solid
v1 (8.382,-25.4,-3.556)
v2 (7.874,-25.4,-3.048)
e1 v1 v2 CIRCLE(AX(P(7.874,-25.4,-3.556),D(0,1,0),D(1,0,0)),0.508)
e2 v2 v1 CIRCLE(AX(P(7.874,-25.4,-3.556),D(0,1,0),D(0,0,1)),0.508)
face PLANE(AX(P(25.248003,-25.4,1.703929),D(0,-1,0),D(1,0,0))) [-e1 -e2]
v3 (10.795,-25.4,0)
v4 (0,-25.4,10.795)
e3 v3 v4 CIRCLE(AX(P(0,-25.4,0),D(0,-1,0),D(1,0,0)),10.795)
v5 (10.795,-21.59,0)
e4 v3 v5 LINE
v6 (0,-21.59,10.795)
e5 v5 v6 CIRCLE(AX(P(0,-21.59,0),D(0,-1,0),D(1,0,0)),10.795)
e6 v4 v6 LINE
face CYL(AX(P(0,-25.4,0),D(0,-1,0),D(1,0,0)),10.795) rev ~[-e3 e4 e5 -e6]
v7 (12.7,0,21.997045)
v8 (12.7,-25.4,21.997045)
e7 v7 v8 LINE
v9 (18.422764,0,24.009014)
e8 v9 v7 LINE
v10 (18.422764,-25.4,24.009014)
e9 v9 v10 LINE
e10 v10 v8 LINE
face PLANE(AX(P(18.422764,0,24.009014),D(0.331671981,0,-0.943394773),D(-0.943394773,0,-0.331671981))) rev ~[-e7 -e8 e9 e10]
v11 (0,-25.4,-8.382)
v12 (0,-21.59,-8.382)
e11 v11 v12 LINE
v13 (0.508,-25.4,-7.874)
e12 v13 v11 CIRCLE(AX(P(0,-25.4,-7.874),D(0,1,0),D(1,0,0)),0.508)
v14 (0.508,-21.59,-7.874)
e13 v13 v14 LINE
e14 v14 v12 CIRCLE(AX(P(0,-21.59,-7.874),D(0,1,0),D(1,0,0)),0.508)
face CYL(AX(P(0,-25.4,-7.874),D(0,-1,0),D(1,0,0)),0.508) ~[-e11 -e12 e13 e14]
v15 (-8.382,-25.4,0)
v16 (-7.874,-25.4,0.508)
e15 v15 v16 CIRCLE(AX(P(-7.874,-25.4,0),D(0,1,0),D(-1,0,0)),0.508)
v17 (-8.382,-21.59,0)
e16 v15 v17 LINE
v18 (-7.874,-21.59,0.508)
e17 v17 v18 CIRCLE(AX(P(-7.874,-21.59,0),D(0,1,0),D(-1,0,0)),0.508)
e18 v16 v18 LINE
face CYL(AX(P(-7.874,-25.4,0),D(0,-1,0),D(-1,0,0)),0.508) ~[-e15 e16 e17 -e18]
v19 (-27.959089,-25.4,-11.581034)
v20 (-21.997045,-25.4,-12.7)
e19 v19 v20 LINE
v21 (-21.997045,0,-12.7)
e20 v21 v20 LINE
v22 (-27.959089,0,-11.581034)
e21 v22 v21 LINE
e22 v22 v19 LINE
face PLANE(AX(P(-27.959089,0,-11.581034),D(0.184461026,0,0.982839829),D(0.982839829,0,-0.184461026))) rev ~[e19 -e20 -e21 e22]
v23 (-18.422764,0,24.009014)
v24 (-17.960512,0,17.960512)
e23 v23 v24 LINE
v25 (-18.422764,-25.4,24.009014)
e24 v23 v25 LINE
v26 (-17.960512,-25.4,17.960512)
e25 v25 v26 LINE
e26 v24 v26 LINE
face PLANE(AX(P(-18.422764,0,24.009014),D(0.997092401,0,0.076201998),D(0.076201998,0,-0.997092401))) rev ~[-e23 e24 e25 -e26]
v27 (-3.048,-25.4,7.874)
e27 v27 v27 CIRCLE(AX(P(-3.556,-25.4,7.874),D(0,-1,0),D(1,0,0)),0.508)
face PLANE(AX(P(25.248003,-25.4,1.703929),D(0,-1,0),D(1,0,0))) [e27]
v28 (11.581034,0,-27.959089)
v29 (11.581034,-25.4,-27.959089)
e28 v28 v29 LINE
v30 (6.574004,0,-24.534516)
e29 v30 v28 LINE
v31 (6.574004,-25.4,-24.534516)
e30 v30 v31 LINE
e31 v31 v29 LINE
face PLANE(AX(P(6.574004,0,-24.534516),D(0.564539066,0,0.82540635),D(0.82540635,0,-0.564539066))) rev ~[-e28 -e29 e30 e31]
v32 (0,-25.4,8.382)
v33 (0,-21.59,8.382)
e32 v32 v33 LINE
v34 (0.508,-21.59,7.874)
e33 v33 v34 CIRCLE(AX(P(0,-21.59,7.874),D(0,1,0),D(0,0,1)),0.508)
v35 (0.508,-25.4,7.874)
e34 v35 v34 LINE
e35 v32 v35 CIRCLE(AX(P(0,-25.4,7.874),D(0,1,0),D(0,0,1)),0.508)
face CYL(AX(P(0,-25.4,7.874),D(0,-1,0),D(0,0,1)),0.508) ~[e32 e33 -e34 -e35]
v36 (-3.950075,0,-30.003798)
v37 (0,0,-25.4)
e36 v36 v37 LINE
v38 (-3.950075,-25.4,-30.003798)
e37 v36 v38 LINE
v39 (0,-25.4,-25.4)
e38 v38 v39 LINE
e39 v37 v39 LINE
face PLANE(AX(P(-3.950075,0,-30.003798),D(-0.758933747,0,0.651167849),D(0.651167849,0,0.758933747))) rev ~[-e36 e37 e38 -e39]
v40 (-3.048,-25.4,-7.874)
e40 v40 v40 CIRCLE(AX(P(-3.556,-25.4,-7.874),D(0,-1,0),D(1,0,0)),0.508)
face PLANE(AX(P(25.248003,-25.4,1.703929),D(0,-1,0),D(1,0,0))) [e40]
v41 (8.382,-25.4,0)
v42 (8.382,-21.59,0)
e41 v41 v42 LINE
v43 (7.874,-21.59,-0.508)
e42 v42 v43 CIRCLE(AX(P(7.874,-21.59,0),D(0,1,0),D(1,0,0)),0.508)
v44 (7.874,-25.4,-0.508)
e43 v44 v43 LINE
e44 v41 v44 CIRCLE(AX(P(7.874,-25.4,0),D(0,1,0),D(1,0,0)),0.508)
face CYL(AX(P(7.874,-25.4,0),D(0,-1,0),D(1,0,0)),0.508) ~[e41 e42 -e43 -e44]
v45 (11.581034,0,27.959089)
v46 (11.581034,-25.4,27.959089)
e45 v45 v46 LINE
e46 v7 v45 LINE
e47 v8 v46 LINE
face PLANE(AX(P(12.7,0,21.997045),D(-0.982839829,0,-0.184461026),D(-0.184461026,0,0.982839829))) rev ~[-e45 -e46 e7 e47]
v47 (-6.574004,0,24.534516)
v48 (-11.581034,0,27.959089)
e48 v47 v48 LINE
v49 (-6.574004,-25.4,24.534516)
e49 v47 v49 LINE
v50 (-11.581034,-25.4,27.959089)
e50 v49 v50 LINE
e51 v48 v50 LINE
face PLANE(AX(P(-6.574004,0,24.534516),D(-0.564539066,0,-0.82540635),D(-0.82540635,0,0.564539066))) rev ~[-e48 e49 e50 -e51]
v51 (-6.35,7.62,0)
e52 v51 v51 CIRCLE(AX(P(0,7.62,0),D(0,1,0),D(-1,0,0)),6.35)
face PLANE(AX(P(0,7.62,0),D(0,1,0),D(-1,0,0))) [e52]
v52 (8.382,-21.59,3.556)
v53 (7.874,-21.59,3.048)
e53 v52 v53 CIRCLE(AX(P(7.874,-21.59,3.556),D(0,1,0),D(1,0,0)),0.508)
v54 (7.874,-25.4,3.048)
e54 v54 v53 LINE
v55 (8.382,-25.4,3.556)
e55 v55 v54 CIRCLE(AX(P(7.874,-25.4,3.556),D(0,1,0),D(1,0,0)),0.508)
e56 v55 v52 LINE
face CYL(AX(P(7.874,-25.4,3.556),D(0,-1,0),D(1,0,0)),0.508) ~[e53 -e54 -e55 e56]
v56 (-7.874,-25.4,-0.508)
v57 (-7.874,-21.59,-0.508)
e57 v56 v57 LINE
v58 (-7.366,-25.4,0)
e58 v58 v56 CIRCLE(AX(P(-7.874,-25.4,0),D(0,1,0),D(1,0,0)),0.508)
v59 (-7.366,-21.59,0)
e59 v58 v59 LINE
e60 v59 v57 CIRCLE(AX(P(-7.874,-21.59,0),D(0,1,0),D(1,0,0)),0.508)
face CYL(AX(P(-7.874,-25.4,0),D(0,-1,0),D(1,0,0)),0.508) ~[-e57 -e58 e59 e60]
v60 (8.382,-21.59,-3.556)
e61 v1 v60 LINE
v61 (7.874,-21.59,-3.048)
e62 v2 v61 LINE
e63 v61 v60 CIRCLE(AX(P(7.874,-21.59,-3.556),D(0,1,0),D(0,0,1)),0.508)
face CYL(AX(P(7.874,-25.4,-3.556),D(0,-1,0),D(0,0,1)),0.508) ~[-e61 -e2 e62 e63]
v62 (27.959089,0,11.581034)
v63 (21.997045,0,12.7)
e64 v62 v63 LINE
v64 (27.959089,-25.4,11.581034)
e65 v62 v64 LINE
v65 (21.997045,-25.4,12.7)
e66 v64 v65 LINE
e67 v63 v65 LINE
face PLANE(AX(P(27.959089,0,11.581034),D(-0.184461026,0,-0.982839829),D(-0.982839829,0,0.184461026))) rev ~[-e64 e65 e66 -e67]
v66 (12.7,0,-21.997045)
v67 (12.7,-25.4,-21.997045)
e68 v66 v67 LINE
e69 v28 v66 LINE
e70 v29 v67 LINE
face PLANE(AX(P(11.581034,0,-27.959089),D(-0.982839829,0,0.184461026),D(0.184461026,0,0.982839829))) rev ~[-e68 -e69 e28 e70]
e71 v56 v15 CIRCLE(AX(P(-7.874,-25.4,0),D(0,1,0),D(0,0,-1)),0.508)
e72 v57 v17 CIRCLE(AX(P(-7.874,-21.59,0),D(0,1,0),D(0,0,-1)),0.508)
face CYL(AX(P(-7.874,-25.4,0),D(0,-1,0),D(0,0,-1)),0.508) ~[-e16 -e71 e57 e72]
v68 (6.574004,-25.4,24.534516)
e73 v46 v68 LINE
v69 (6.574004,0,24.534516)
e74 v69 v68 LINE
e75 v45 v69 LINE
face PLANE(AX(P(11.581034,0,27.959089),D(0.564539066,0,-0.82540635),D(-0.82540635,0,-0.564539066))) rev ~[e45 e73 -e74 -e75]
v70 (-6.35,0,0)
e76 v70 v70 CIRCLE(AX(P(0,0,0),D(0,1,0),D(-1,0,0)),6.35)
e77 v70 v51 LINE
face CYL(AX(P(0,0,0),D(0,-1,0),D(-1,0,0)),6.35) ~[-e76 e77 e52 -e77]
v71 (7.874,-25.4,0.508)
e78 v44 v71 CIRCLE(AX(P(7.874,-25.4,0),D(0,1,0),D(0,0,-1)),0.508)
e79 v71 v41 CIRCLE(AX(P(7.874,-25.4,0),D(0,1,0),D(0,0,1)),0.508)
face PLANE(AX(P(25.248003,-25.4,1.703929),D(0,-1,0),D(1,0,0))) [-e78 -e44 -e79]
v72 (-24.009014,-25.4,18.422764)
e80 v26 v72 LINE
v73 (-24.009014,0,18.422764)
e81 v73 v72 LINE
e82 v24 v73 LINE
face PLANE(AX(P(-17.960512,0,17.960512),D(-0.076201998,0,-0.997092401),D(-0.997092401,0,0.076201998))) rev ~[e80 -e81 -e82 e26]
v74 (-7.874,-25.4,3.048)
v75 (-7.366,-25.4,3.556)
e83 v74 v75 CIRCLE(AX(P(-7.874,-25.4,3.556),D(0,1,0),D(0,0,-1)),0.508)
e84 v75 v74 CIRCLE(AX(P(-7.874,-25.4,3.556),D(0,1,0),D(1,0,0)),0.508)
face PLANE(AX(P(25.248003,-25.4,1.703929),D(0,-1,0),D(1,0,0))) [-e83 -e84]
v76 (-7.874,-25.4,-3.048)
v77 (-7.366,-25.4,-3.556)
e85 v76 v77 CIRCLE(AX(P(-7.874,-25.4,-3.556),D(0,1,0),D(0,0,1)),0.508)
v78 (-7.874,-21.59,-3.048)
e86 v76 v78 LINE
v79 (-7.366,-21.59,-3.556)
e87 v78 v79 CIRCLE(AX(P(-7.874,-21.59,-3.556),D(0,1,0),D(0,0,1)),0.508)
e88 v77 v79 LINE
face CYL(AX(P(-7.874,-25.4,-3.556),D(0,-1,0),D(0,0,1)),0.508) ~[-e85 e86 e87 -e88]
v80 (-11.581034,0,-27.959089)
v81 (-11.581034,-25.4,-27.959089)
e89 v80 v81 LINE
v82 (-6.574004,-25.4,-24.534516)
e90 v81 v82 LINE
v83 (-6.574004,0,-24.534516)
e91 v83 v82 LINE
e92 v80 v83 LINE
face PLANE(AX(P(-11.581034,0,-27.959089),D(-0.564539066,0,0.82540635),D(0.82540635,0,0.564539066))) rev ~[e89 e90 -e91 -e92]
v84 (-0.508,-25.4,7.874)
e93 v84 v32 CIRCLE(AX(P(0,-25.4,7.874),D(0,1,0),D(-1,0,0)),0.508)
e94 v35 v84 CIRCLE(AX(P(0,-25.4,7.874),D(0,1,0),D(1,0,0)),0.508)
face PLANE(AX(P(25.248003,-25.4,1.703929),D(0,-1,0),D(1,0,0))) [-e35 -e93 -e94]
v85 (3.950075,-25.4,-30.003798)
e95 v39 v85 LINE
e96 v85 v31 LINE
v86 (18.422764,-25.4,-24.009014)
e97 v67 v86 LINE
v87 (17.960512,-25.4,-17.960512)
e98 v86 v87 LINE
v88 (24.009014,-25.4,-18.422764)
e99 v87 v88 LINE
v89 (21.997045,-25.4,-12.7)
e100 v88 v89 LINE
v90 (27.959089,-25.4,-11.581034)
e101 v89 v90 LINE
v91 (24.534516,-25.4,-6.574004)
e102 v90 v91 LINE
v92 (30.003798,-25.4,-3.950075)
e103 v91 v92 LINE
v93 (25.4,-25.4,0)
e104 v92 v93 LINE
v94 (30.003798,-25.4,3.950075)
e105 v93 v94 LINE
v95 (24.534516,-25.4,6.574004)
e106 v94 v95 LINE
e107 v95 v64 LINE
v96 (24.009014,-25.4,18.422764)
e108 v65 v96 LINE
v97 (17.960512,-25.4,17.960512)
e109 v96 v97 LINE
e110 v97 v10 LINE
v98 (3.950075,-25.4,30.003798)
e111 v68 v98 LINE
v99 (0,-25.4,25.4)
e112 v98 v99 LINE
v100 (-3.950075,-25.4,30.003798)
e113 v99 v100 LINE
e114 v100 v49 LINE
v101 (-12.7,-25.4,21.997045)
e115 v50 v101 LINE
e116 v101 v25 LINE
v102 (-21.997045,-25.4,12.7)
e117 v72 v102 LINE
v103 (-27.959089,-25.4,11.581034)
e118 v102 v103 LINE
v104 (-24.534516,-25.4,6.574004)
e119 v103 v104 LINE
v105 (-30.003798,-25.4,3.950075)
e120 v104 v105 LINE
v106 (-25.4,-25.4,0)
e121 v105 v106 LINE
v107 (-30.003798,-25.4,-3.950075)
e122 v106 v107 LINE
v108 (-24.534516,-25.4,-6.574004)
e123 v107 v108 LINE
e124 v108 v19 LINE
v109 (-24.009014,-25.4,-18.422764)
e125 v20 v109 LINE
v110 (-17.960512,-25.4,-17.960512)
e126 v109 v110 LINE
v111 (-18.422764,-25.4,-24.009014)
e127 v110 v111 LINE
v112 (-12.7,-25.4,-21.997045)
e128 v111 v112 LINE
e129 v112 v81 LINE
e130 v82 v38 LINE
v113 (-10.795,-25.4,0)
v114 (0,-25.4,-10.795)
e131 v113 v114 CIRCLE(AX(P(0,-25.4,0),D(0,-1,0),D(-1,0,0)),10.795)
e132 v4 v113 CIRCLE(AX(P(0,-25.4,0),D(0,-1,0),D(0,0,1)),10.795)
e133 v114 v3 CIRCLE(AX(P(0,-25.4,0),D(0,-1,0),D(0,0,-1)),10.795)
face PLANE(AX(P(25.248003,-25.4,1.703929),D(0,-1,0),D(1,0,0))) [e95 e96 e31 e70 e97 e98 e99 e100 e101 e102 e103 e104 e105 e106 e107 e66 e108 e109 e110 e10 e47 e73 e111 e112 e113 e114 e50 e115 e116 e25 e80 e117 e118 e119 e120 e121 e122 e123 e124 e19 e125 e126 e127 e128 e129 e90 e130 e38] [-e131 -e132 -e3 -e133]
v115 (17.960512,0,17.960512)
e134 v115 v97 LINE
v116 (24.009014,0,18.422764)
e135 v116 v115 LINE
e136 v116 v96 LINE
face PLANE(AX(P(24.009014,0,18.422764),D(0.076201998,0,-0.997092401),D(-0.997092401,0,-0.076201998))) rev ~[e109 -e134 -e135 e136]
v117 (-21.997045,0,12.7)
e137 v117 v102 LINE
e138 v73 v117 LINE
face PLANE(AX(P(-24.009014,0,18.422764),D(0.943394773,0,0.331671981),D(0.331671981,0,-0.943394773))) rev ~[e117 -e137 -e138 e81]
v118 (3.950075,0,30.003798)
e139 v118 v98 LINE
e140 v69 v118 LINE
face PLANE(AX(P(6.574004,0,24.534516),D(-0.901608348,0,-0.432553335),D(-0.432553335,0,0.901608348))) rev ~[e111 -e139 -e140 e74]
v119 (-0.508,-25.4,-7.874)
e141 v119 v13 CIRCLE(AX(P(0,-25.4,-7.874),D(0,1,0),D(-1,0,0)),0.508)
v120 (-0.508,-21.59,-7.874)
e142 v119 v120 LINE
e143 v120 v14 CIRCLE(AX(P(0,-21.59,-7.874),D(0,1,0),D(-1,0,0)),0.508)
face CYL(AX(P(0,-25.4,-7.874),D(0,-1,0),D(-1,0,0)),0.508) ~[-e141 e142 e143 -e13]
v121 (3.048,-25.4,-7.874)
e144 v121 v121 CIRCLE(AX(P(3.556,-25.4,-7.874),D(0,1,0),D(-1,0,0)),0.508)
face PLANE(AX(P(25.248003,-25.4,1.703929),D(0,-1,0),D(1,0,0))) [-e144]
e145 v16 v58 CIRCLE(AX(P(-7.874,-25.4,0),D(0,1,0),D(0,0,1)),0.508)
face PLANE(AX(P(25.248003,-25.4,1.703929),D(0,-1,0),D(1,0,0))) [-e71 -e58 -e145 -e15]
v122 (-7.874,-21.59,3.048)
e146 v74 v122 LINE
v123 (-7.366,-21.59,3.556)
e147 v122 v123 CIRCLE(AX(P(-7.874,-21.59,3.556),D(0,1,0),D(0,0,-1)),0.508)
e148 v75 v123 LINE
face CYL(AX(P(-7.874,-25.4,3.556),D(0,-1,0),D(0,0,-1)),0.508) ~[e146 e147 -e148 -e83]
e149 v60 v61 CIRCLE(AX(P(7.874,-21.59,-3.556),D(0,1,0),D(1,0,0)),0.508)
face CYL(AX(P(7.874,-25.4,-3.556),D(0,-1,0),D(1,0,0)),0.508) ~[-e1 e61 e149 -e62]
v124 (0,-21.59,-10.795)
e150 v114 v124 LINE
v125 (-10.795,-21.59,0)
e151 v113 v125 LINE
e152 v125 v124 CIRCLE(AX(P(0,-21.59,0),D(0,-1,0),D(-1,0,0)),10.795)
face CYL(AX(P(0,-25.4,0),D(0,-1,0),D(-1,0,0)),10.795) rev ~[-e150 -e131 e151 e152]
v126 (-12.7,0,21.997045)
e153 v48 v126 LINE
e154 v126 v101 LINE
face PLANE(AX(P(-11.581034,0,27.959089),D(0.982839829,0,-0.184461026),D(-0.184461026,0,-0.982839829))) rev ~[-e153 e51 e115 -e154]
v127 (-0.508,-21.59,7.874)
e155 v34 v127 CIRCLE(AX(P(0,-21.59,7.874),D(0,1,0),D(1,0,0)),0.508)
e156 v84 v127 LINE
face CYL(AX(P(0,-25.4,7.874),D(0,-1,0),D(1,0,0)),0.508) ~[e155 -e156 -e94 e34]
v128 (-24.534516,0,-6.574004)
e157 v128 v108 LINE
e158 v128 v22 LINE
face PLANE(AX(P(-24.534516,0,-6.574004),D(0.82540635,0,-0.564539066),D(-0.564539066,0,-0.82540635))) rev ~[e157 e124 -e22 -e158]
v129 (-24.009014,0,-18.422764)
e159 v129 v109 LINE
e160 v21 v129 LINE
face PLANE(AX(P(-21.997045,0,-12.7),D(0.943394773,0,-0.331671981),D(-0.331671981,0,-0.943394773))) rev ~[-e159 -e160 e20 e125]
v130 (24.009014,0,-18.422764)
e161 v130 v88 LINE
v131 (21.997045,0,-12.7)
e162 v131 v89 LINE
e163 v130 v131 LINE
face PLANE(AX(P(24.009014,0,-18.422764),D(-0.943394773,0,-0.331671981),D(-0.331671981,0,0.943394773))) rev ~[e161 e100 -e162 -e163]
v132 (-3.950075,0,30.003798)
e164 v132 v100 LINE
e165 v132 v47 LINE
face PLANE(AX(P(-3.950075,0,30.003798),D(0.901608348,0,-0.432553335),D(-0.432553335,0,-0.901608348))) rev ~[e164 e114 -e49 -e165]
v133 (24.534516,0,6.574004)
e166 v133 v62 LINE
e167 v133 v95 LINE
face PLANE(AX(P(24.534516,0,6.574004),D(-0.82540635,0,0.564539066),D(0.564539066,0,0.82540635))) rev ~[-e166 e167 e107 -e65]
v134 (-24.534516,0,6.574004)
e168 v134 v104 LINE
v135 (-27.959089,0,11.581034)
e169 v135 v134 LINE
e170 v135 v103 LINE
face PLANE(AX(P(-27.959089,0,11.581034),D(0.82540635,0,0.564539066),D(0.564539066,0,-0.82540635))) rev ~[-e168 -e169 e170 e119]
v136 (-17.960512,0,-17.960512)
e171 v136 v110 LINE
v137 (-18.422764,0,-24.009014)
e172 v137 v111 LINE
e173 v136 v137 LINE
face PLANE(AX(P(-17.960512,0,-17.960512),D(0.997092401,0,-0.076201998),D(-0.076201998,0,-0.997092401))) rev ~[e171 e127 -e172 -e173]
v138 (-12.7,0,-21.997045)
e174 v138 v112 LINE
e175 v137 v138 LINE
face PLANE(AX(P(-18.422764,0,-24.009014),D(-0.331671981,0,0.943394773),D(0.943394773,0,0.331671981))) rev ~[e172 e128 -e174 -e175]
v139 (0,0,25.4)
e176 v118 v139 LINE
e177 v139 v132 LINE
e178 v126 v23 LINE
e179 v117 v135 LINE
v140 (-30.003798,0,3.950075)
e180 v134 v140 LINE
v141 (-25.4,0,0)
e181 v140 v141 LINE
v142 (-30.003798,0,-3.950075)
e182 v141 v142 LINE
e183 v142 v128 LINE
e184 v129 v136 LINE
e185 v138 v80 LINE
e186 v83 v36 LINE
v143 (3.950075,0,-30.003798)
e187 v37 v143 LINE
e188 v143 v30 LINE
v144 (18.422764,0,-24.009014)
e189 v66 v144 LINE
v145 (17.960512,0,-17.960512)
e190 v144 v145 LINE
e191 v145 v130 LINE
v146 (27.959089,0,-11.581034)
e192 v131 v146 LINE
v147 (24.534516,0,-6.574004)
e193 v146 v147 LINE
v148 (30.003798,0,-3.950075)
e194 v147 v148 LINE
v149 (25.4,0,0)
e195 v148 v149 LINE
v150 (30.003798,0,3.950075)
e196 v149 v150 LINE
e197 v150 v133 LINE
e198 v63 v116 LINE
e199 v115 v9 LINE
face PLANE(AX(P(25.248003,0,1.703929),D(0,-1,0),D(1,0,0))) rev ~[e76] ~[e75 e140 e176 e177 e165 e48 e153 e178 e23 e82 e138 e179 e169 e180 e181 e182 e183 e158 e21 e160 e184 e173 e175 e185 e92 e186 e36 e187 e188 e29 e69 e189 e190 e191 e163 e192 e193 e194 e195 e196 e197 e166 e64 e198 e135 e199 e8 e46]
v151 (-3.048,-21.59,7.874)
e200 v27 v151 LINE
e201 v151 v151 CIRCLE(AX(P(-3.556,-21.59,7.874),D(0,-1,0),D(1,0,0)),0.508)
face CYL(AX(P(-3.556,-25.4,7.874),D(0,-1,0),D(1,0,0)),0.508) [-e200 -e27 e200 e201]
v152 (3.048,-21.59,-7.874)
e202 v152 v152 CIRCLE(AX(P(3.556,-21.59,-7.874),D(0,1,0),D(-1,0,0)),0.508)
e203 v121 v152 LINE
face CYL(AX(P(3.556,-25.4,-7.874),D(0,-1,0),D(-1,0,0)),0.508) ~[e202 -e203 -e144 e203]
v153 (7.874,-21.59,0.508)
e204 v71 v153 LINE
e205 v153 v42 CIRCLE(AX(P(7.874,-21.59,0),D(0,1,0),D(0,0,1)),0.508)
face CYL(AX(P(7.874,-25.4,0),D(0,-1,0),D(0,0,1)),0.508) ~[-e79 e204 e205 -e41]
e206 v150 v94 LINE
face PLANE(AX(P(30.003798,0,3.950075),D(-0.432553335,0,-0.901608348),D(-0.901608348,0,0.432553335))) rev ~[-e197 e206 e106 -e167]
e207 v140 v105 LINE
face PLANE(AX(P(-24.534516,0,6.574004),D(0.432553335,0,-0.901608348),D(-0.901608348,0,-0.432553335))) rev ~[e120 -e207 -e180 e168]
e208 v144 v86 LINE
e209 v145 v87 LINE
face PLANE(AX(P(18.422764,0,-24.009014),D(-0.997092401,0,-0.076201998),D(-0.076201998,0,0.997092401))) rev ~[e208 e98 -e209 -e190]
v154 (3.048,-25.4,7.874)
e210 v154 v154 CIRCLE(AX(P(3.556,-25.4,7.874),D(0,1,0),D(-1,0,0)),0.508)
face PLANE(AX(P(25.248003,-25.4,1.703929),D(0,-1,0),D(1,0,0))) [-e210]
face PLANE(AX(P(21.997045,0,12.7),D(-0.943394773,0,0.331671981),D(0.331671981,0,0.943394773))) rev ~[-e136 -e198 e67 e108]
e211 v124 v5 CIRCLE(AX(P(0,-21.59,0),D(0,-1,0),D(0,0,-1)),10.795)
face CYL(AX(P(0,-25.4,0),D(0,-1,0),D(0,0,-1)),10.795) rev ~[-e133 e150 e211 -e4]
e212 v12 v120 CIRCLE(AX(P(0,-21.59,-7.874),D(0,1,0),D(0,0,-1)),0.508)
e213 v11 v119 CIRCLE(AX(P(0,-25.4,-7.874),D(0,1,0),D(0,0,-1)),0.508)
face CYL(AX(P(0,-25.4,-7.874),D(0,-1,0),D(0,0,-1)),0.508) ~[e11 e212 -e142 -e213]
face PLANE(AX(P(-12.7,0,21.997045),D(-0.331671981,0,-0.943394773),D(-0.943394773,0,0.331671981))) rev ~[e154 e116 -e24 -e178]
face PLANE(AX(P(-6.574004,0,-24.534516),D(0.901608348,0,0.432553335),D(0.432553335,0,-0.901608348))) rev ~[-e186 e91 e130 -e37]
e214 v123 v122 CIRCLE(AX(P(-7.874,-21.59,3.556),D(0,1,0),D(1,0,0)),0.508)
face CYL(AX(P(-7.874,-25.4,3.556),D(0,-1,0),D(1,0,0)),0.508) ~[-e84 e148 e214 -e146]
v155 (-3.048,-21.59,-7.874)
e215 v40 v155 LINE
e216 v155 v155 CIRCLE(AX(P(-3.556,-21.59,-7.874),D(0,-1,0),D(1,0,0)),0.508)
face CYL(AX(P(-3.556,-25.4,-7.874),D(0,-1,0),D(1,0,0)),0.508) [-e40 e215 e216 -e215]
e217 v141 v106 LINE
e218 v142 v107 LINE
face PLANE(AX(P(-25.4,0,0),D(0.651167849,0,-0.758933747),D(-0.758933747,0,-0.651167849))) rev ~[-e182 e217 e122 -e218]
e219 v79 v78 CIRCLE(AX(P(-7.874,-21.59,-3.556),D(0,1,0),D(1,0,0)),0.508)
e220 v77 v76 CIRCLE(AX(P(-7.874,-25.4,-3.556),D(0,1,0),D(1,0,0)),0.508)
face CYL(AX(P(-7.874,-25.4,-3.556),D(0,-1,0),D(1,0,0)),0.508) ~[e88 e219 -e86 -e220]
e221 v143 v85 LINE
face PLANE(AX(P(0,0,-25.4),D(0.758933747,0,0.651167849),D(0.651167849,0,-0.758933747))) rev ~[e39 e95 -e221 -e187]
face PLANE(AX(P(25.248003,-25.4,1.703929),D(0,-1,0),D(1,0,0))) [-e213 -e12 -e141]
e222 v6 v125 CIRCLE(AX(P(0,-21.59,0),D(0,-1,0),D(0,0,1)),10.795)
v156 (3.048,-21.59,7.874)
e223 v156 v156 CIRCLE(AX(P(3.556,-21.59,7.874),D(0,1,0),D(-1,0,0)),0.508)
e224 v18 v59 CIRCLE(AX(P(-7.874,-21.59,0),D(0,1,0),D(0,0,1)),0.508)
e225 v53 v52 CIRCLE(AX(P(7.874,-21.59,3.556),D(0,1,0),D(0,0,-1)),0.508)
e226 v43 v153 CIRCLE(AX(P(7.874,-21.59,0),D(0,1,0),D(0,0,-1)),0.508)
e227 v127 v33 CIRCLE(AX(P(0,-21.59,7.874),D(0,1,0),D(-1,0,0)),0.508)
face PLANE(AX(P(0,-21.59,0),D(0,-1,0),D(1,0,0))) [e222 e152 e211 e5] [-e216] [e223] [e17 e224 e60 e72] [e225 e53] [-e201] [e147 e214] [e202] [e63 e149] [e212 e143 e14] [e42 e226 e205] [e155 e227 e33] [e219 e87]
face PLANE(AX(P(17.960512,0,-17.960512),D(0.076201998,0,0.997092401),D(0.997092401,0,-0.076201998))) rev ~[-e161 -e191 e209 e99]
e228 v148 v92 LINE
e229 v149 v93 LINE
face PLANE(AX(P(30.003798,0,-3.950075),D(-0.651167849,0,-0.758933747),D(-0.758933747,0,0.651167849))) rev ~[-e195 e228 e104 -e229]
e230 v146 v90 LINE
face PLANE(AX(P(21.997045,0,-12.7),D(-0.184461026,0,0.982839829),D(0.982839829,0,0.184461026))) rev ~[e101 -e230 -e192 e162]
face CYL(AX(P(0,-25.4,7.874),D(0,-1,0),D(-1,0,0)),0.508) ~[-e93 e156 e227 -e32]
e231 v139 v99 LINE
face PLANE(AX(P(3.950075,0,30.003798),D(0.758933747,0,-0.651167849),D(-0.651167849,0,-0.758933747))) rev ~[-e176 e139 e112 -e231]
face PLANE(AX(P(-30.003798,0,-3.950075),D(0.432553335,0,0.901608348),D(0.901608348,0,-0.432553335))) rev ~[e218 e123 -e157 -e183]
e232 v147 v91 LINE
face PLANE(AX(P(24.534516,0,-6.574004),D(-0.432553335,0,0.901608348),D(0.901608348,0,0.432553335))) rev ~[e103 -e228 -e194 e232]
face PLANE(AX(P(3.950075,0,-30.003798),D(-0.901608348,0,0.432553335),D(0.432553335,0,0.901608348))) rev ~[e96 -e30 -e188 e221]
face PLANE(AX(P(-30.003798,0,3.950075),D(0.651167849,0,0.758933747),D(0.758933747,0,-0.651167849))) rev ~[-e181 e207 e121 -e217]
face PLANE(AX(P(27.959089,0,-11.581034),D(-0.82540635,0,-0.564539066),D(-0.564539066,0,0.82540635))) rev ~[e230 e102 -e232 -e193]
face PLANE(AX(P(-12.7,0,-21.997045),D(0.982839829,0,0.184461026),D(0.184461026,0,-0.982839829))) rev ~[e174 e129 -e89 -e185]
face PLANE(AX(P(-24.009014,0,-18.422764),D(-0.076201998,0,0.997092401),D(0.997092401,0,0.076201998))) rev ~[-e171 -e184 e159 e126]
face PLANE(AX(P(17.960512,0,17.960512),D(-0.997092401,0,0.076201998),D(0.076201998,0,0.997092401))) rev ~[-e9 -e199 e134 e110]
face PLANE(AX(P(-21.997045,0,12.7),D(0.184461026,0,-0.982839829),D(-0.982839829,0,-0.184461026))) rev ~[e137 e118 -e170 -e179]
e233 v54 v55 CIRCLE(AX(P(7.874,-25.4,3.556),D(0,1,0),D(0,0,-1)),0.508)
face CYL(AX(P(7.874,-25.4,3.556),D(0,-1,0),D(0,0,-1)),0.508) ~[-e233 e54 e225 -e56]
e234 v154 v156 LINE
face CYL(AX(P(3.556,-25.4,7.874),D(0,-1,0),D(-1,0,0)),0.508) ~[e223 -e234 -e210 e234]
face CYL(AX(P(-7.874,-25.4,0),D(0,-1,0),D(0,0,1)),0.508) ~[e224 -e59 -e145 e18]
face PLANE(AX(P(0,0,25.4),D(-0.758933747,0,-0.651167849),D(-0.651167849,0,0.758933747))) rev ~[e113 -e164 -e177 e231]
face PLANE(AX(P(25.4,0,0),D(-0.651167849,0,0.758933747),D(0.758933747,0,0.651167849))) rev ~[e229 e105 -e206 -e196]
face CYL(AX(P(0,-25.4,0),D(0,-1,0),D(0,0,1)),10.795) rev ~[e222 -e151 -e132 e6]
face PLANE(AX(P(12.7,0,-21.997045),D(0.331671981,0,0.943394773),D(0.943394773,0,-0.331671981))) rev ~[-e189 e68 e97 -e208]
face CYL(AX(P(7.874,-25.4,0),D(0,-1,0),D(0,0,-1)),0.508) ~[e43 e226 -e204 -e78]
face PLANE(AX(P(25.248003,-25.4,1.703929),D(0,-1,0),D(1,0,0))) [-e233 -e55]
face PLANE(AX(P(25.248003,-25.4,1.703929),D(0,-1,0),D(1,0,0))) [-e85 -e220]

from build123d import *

# Parameters (mm, degrees)
F1_DEPTH = 25.4
F2_R     = 0.508
F3_DEPTH = 3.81
F4_R     = 6.35
F5_DEPTH = 7.62


with BuildPart() as f1:
    # F0 (on Front) → F1 (new body)
    with BuildSketch(Plane.XZ):
        with BuildLine():
            Line((24.9672579939, 3.2870018728), (25.4, 0))
            ThreePointArc((25.4, 0), (25.3456166503, 1.6612394824), (25.1826994789, 3.3153652824))
            Line((25.1826994789, 3.3153652824), (24.9672579939, 3.2870018728))
        make_face()
        with BuildLine():
            Line((30.0037978897, -3.9500749293), (25.4, 0))
            ThreePointArc((25.4, 0), (25.3456166503, -1.6612394824), (25.1826994789, -3.3153652824))
            Line((25.1826994789, -3.3153652824), (30.0037978897, -3.9500749293))
        make_face()
        Polygon((24.9672579939, -3.2870018728), (25.4, 0), (0, 0), (24.5345159877, -6.5740037456), align=None)
        with BuildLine():
            ThreePointArc((25.1826994789, -3.3153652824), (25.3456166503, -1.6612394824), (25.4, 0))
            Line((25.4, 0), (24.9672579939, -3.2870018728))
            Line((24.9672579939, -3.2870018728), (25.1826994789, -3.3153652824))
        make_face()
        Polygon((0, 0), (25.4, 0), (24.9672579939, 3.2870018728), (24.5345159877, 6.5740037456), align=None)
        with BuildLine():
            ThreePointArc((25.1826994789, 3.3153652824), (25.3456166503, 1.6612394824), (25.4, 0))
            Line((25.4, 0), (30.0037978897, 3.9500749293))
            Line((30.0037978897, 3.9500749293), (25.1826994789, 3.3153652824))
        make_face()
        with BuildLine():
            Line((24.9672579939, 3.2870018728), (25.1826994789, 3.3153652824))
            ThreePointArc((25.1826994789, 3.3153652824), (24.9119461222, 4.9552941792), (24.5345159877, 6.5740037456))
            Line((24.5345159877, 6.5740037456), (24.9672579939, 3.2870018728))
        make_face()
        with BuildLine():
            ThreePointArc((24.5345159877, 6.5740037456), (24.9119461222, 4.9552941792), (25.1826994789, 3.3153652824))
            Line((25.1826994789, 3.3153652824), (30.0037978897, 3.9500749293))
            Line((30.0037978897, 3.9500749293), (24.5345159877, 6.5740037456))
        make_face()
        with BuildLine():
            Line((30.0037978897, -3.9500749293), (25.1826994789, -3.3153652824))
            ThreePointArc((25.1826994789, -3.3153652824), (24.9119461222, -4.9552941792), (24.5345159877, -6.5740037456))
            Line((24.5345159877, -6.5740037456), (30.0037978897, -3.9500749293))
        make_face()
        with BuildLine():
            ThreePointArc((24.5345159877, -6.5740037456), (24.9119461222, -4.9552941792), (25.1826994789, -3.3153652824))
            Line((25.1826994789, -3.3153652824), (24.9672579939, -3.2870018728))
            Line((24.9672579939, -3.2870018728), (24.5345159877, -6.5740037456))
        make_face()
        Polygon((-6.5740037456, 24.5345159877), (0, 0), (0, 25.4), (-3.2870018728, 24.9672579939), align=None)
        Polygon((-24.5345159877, -6.5740037456), (0, 0), (-25.4, 0), (-24.9672579939, -3.2870018728), align=None)
        Polygon((6.5740037456, -24.5345159877), (0, 0), (0, -25.4), (3.2870018728, -24.9672579939), align=None)
        Polygon((21.9970452561, 12.7), (0, 0), (24.5345159877, 6.5740037456), (23.2657806219, 9.6370018728), align=None)
        Polygon((17.9605122421, 17.9605122421), (0, 0), (21.9970452561, 12.7), (19.9787787491, 15.3302561211), align=None)
        Polygon((12.7, 21.9970452561), (0, 0), (17.9605122421, 17.9605122421), (15.3302561211, 19.9787787491), align=None)
        Polygon((6.5740037456, 24.5345159877), (0, 0), (12.7, 21.9970452561), (9.6370018728, 23.2657806219), align=None)
        Polygon((0, 25.4), (0, 0), (6.5740037456, 24.5345159877), (3.2870018728, 24.9672579939), align=None)
        Polygon((0, -25.4), (0, 0), (-6.5740037456, -24.5345159877), (-3.2870018728, -24.9672579939), align=None)
        Polygon((24.5345159877, -6.5740037456), (0, 0), (21.9970452561, -12.7), (23.2657806219, -9.6370018728), align=None)
        Polygon((21.9970452561, -12.7), (0, 0), (17.9605122421, -17.9605122421), (19.9787787491, -15.3302561211), align=None)
        Polygon((17.9605122421, -17.9605122421), (0, 0), (12.7, -21.9970452561), (15.3302561211, -19.9787787491), align=None)
        Polygon((12.7, -21.9970452561), (0, 0), (6.5740037456, -24.5345159877), (9.6370018728, -23.2657806219), align=None)
        Polygon((-6.5740037456, -24.5345159877), (0, 0), (-12.7, -21.9970452561), (-9.6370018728, -23.2657806219), align=None)
        Polygon((-12.7, -21.9970452561), (0, 0), (-17.9605122421, -17.9605122421), (-15.3302561211, -19.9787787491), align=None)
        Polygon((-17.9605122421, -17.9605122421), (0, 0), (-21.9970452561, -12.7), (-19.9787787491, -15.3302561211), align=None)
        Polygon((-21.9970452561, -12.7), (0, 0), (-24.5345159877, -6.5740037456), (-23.2657806219, -9.6370018728), align=None)
        Polygon((-25.4, 0), (0, 0), (-24.5345159877, 6.5740037456), (-24.9672579939, 3.2870018728), align=None)
        Polygon((-24.5345159877, 6.5740037456), (0, 0), (-21.9970452561, 12.7), (-23.2657806219, 9.6370018728), align=None)
        Polygon((-21.9970452561, 12.7), (0, 0), (-17.9605122421, 17.9605122421), (-19.9787787491, 15.3302561211), align=None)
        Polygon((-17.9605122421, 17.9605122421), (0, 0), (-12.7, 21.9970452561), (-15.3302561211, 19.9787787491), align=None)
        Polygon((-12.7, 21.9970452561), (0, 0), (-6.5740037456, 24.5345159877), (-9.6370018728, 23.2657806219), align=None)
        with BuildLine():
            Line((23.2657806219, 9.6370018728), (24.5345159877, 6.5740037456))
            ThreePointArc((24.5345159877, 6.5740037456), (24.0520252892, 8.1645624187), (23.4665401258, 9.7201591821))
            Line((23.4665401258, 9.7201591821), (23.2657806219, 9.6370018728))
        make_face()
        with BuildLine():
            ThreePointArc((23.4665401258, 9.7201591821), (24.0520252892, 8.1645624187), (24.5345159877, 6.5740037456))
            Line((24.5345159877, 6.5740037456), (27.9590886471, 11.5810337092))
            Line((27.9590886471, 11.5810337092), (23.4665401258, 9.7201591821))
        make_face()
        with BuildLine():
            Line((27.9590886471, -11.5810337092), (24.5345159877, -6.5740037456))
            ThreePointArc((24.5345159877, -6.5740037456), (24.0520252892, -8.1645624187), (23.4665401258, -9.7201591821))
            Line((23.4665401258, -9.7201591821), (27.9590886471, -11.5810337092))
        make_face()
        with BuildLine():
            ThreePointArc((23.4665401258, -9.7201591821), (24.0520252892, -8.1645624187), (24.5345159877, -6.5740037456))
            Line((24.5345159877, -6.5740037456), (23.2657806219, -9.6370018728))
            Line((23.2657806219, -9.6370018728), (23.4665401258, -9.7201591821))
        make_face()
        with BuildLine():
            Line((3.9500749293, 30.0037978897), (0, 25.4))
            ThreePointArc((0, 25.4), (1.6612394824, 25.3456166503), (3.3153652824, 25.1826994789))
            Line((3.3153652824, 25.1826994789), (3.9500749293, 30.0037978897))
        make_face()
        with BuildLine():
            Line((-3.2870018728, 24.9672579939), (0, 25.4))
            ThreePointArc((0, 25.4), (-1.6612394824, 25.3456166503), (-3.3153652824, 25.1826994789))
            Line((-3.3153652824, 25.1826994789), (-3.2870018728, 24.9672579939))
        make_face()
        with BuildLine():
            ThreePointArc((3.3153652824, 25.1826994789), (1.6612394824, 25.3456166503), (0, 25.4))
            Line((0, 25.4), (3.2870018728, 24.9672579939))
            Line((3.2870018728, 24.9672579939), (3.3153652824, 25.1826994789))
        make_face()
        with BuildLine():
            ThreePointArc((-3.3153652824, 25.1826994789), (-1.6612394824, 25.3456166503), (0, 25.4))
            Line((0, 25.4), (-3.9500749293, 30.0037978897))
            Line((-3.9500749293, 30.0037978897), (-3.3153652824, 25.1826994789))
        make_face()
        with BuildLine():
            Line((-30.0037978897, 3.9500749293), (-25.4, 0))
            ThreePointArc((-25.4, 0), (-25.3456166503, 1.6612394824), (-25.1826994789, 3.3153652824))
            Line((-25.1826994789, 3.3153652824), (-30.0037978897, 3.9500749293))
        make_face()
        with BuildLine():
            Line((-24.9672579939, -3.2870018728), (-25.4, 0))
            ThreePointArc((-25.4, 0), (-25.3456166503, -1.6612394824), (-25.1826994789, -3.3153652824))
            Line((-25.1826994789, -3.3153652824), (-24.9672579939, -3.2870018728))
        make_face()
        with BuildLine():
            ThreePointArc((-25.1826994789, 3.3153652824), (-25.3456166503, 1.6612394824), (-25.4, 0))
            Line((-25.4, 0), (-24.9672579939, 3.2870018728))
            Line((-24.9672579939, 3.2870018728), (-25.1826994789, 3.3153652824))
        make_face()
        with BuildLine():
            ThreePointArc((-25.1826994789, -3.3153652824), (-25.3456166503, -1.6612394824), (-25.4, 0))
            Line((-25.4, 0), (-30.0037978897, -3.9500749293))
            Line((-30.0037978897, -3.9500749293), (-25.1826994789, -3.3153652824))
        make_face()
        with BuildLine():
            Line((-3.9500749293, -30.0037978896), (0, -25.4))
            ThreePointArc((0, -25.4), (-1.6612394824, -25.3456166503), (-3.3153652824, -25.1826994789))
            Line((-3.3153652824, -25.1826994789), (-3.9500749293, -30.0037978896))
        make_face()
        with BuildLine():
            Line((3.2870018728, -24.9672579939), (0, -25.4))
            ThreePointArc((0, -25.4), (1.6612394824, -25.3456166503), (3.3153652824, -25.1826994789))
            Line((3.3153652824, -25.1826994789), (3.2870018728, -24.9672579939))
        make_face()
        with BuildLine():
            ThreePointArc((-3.3153652824, -25.1826994789), (-1.6612394824, -25.3456166503), (0, -25.4))
            Line((0, -25.4), (-3.2870018728, -24.9672579939))
            Line((-3.2870018728, -24.9672579939), (-3.3153652824, -25.1826994789))
        make_face()
        with BuildLine():
            ThreePointArc((3.3153652824, -25.1826994789), (1.6612394824, -25.3456166503), (0, -25.4))
            Line((0, -25.4), (3.9500749293, -30.0037978897))
            Line((3.9500749293, -30.0037978897), (3.3153652824, -25.1826994789))
        make_face()
        with BuildLine():
            Line((27.9590886471, 11.5810337092), (21.9970452561, 12.7))
            ThreePointArc((21.9970452561, 12.7), (22.7805676349, 11.2341327316), (23.4665401258, 9.7201591821))
            Line((23.4665401258, 9.7201591821), (27.9590886471, 11.5810337092))
        make_face()
        with BuildLine():
            Line((19.9787787491, 15.3302561211), (21.9970452561, 12.7))
            ThreePointArc((21.9970452561, 12.7), (21.1193281525, 14.1114839187), (20.1511748434, 15.4625402968))
            Line((20.1511748434, 15.4625402968), (19.9787787491, 15.3302561211))
        make_face()
        with BuildLine():
            ThreePointArc((23.4665401258, 9.7201591821), (22.7805676349, 11.2341327316), (21.9970452561, 12.7))
            Line((21.9970452561, 12.7), (23.2657806219, 9.6370018728))
            Line((23.2657806219, 9.6370018728), (23.4665401258, 9.7201591821))
        make_face()
        with BuildLine():
            ThreePointArc((20.1511748434, 15.4625402968), (21.1193281525, 14.1114839187), (21.9970452561, 12.7))
            Line((21.9970452561, 12.7), (24.0090137178, 18.4227641804))
            Line((24.0090137178, 18.4227641804), (20.1511748434, 15.4625402968))
        make_face()
        with BuildLine():
            Line((24.0090137178, 18.4227641804), (17.9605122421, 17.9605122421))
            ThreePointArc((17.9605122421, 17.9605122421), (19.09673111, 16.7473837035), (20.1511748434, 15.4625402968))
            Line((20.1511748434, 15.4625402968), (24.0090137178, 18.4227641804))
        make_face()
        with BuildLine():
            Line((15.3302561211, 19.9787787491), (17.9605122421, 17.9605122421))
            ThreePointArc((17.9605122421, 17.9605122421), (16.7473837035, 19.09673111), (15.4625402968, 20.1511748434))
            Line((15.4625402968, 20.1511748434), (15.3302561211, 19.9787787491))
        make_face()
        with BuildLine():
            ThreePointArc((20.1511748434, 15.4625402968), (19.09673111, 16.7473837035), (17.9605122421, 17.9605122421))
            Line((17.9605122421, 17.9605122421), (19.9787787491, 15.3302561211))
            Line((19.9787787491, 15.3302561211), (20.1511748434, 15.4625402968))
        make_face()
        with BuildLine():
            ThreePointArc((15.4625402968, 20.1511748434), (16.7473837035, 19.09673111), (17.9605122421, 17.9605122421))
            Line((17.9605122421, 17.9605122421), (18.4227641804, 24.0090137178))
            Line((18.4227641804, 24.0090137178), (15.4625402968, 20.1511748434))
        make_face()
        with BuildLine():
            Line((18.4227641804, 24.0090137178), (12.7, 21.9970452561))
            ThreePointArc((12.7, 21.9970452561), (14.1114839187, 21.1193281525), (15.4625402968, 20.1511748434))
            Line((15.4625402968, 20.1511748434), (18.4227641804, 24.0090137178))
        make_face()
        with BuildLine():
            Line((9.6370018728, 23.2657806219), (12.7, 21.9970452561))
            ThreePointArc((12.7, 21.9970452561), (11.2341327316, 22.7805676349), (9.7201591821, 23.4665401258))
            Line((9.7201591821, 23.4665401258), (9.6370018728, 23.2657806219))
        make_face()
        with BuildLine():
            ThreePointArc((15.4625402968, 20.1511748434), (14.1114839187, 21.1193281525), (12.7, 21.9970452561))
            Line((12.7, 21.9970452561), (15.3302561211, 19.9787787491))
            Line((15.3302561211, 19.9787787491), (15.4625402968, 20.1511748434))
        make_face()
        with BuildLine():
            ThreePointArc((9.7201591821, 23.4665401258), (11.2341327316, 22.7805676349), (12.7, 21.9970452561))
            Line((12.7, 21.9970452561), (11.5810337092, 27.9590886471))
            Line((11.5810337092, 27.9590886471), (9.7201591821, 23.4665401258))
        make_face()
        with BuildLine():
            Line((11.5810337092, 27.9590886471), (6.5740037456, 24.5345159877))
            ThreePointArc((6.5740037456, 24.5345159877), (8.1645624187, 24.0520252892), (9.7201591821, 23.4665401258))
            Line((9.7201591821, 23.4665401258), (11.5810337092, 27.9590886471))
        make_face()
        with BuildLine():
            Line((3.2870018728, 24.9672579939), (6.5740037456, 24.5345159877))
            ThreePointArc((6.5740037456, 24.5345159877), (4.9552941792, 24.9119461222), (3.3153652824, 25.1826994789))
            Line((3.3153652824, 25.1826994789), (3.2870018728, 24.9672579939))
        make_face()
        with BuildLine():
            ThreePointArc((9.7201591821, 23.4665401258), (8.1645624187, 24.0520252892), (6.5740037456, 24.5345159877))
            Line((6.5740037456, 24.5345159877), (9.6370018728, 23.2657806219))
            Line((9.6370018728, 23.2657806219), (9.7201591821, 23.4665401258))
        make_face()
        with BuildLine():
            ThreePointArc((3.3153652824, 25.1826994789), (4.9552941792, 24.9119461222), (6.5740037456, 24.5345159877))
            Line((6.5740037456, 24.5345159877), (3.9500749293, 30.0037978897))
            Line((3.9500749293, 30.0037978897), (3.3153652824, 25.1826994789))
        make_face()
        with BuildLine():
            Line((-11.5810337092, -27.9590886471), (-6.5740037456, -24.5345159877))
            ThreePointArc((-6.5740037456, -24.5345159877), (-8.1645624187, -24.0520252892), (-9.7201591821, -23.4665401258))
            Line((-9.7201591821, -23.4665401258), (-11.5810337092, -27.9590886471))
        make_face()
        with BuildLine():
            Line((-3.2870018728, -24.9672579939), (-6.5740037456, -24.5345159877))
            ThreePointArc((-6.5740037456, -24.5345159877), (-4.9552941792, -24.9119461222), (-3.3153652824, -25.1826994789))
            Line((-3.3153652824, -25.1826994789), (-3.2870018728, -24.9672579939))
        make_face()
        with BuildLine():
            ThreePointArc((-9.7201591821, -23.4665401258), (-8.1645624187, -24.0520252892), (-6.5740037456, -24.5345159877))
            Line((-6.5740037456, -24.5345159877), (-9.6370018728, -23.2657806219))
            Line((-9.6370018728, -23.2657806219), (-9.7201591821, -23.4665401258))
        make_face()
        with BuildLine():
            ThreePointArc((-3.3153652824, -25.1826994789), (-4.9552941792, -24.9119461222), (-6.5740037456, -24.5345159877))
            Line((-6.5740037456, -24.5345159877), (-3.9500749293, -30.0037978897))
            Line((-3.9500749293, -30.0037978896), (-3.3153652824, -25.1826994789))
        make_face()
        with BuildLine():
            Line((24.0090137178, -18.4227641804), (21.9970452561, -12.7))
            ThreePointArc((21.9970452561, -12.7), (21.1193281525, -14.1114839187), (20.1511748434, -15.4625402968))
            Line((20.1511748434, -15.4625402968), (24.0090137178, -18.4227641804))
        make_face()
        with BuildLine():
            Line((23.2657806219, -9.6370018728), (21.9970452561, -12.7))
            ThreePointArc((21.9970452561, -12.7), (22.7805676349, -11.2341327316), (23.4665401258, -9.7201591821))
            Line((23.4665401258, -9.7201591821), (23.2657806219, -9.6370018728))
        make_face()
        with BuildLine():
            ThreePointArc((20.1511748434, -15.4625402968), (21.1193281525, -14.1114839187), (21.9970452561, -12.7))
            Line((21.9970452561, -12.7), (19.9787787491, -15.3302561211))
            Line((19.9787787491, -15.3302561211), (20.1511748434, -15.4625402968))
        make_face()
        with BuildLine():
            ThreePointArc((23.4665401258, -9.7201591821), (22.7805676349, -11.2341327316), (21.9970452561, -12.7))
            Line((21.9970452561, -12.7), (27.9590886471, -11.5810337092))
            Line((27.9590886471, -11.5810337092), (23.4665401258, -9.7201591821))
        make_face()
        with BuildLine():
            Line((18.4227641804, -24.0090137178), (17.9605122421, -17.9605122421))
            ThreePointArc((17.9605122421, -17.9605122421), (16.7473837035, -19.09673111), (15.4625402968, -20.1511748434))
            Line((15.4625402968, -20.1511748434), (18.4227641804, -24.0090137178))
        make_face()
        with BuildLine():
            Line((19.9787787491, -15.3302561211), (17.9605122421, -17.9605122421))
            ThreePointArc((17.9605122421, -17.9605122421), (19.09673111, -16.7473837035), (20.1511748434, -15.4625402968))
            Line((20.1511748434, -15.4625402968), (19.9787787491, -15.3302561211))
        make_face()
        with BuildLine():
            ThreePointArc((15.4625402968, -20.1511748434), (16.7473837035, -19.09673111), (17.9605122421, -17.9605122421))
            Line((17.9605122421, -17.9605122421), (15.3302561211, -19.9787787491))
            Line((15.3302561211, -19.9787787491), (15.4625402968, -20.1511748434))
        make_face()
        with BuildLine():
            ThreePointArc((20.1511748434, -15.4625402968), (19.09673111, -16.7473837035), (17.9605122421, -17.9605122421))
            Line((17.9605122421, -17.9605122421), (24.0090137178, -18.4227641804))
            Line((24.0090137178, -18.4227641804), (20.1511748434, -15.4625402968))
        make_face()
        with BuildLine():
            Line((11.5810337092, -27.9590886471), (12.7, -21.9970452561))
            ThreePointArc((12.7, -21.9970452561), (11.2341327316, -22.7805676349), (9.7201591821, -23.4665401258))
            Line((9.7201591821, -23.4665401258), (11.5810337092, -27.9590886471))
        make_face()
        with BuildLine():
            Line((15.3302561211, -19.9787787491), (12.7, -21.9970452561))
            ThreePointArc((12.7, -21.9970452561), (14.1114839187, -21.1193281525), (15.4625402968, -20.1511748434))
            Line((15.4625402968, -20.1511748434), (15.3302561211, -19.9787787491))
        make_face()
        with BuildLine():
            ThreePointArc((9.7201591821, -23.4665401258), (11.2341327316, -22.7805676349), (12.7, -21.9970452561))
            Line((12.7, -21.9970452561), (9.6370018728, -23.2657806219))
            Line((9.6370018728, -23.2657806219), (9.7201591821, -23.4665401258))
        make_face()
        with BuildLine():
            ThreePointArc((15.4625402968, -20.1511748434), (14.1114839187, -21.1193281525), (12.7, -21.9970452561))
            Line((12.7, -21.9970452561), (18.4227641804, -24.0090137178))
            Line((18.4227641804, -24.0090137178), (15.4625402968, -20.1511748434))
        make_face()
        with BuildLine():
            Line((3.9500749293, -30.0037978897), (6.5740037456, -24.5345159877))
            ThreePointArc((6.5740037456, -24.5345159877), (4.9552941792, -24.9119461222), (3.3153652824, -25.1826994789))
            Line((3.3153652824, -25.1826994789), (3.9500749293, -30.0037978897))
        make_face()
        with BuildLine():
            Line((9.6370018728, -23.2657806219), (6.5740037456, -24.5345159877))
            ThreePointArc((6.5740037456, -24.5345159877), (8.1645624187, -24.0520252892), (9.7201591821, -23.4665401258))
            Line((9.7201591821, -23.4665401258), (9.6370018728, -23.2657806219))
        make_face()
        with BuildLine():
            ThreePointArc((3.3153652824, -25.1826994789), (4.9552941792, -24.9119461222), (6.5740037456, -24.5345159877))
            Line((6.5740037456, -24.5345159877), (3.2870018728, -24.9672579939))
            Line((3.2870018728, -24.9672579939), (3.3153652824, -25.1826994789))
        make_face()
        with BuildLine():
            ThreePointArc((9.7201591821, -23.4665401258), (8.1645624187, -24.0520252892), (6.5740037456, -24.5345159877))
            Line((6.5740037456, -24.5345159877), (11.5810337092, -27.9590886471))
            Line((11.5810337092, -27.9590886471), (9.7201591821, -23.4665401258))
        make_face()
        with BuildLine():
            Line((-18.4227641804, -24.0090137178), (-12.7, -21.9970452561))
            ThreePointArc((-12.7, -21.9970452561), (-14.1114839187, -21.1193281525), (-15.4625402968, -20.1511748434))
            Line((-15.4625402968, -20.1511748434), (-18.4227641804, -24.0090137178))
        make_face()
        with BuildLine():
            Line((-9.6370018728, -23.2657806219), (-12.7, -21.9970452561))
            ThreePointArc((-12.7, -21.9970452561), (-11.2341327316, -22.7805676349), (-9.7201591821, -23.4665401258))
            Line((-9.7201591821, -23.4665401258), (-9.6370018728, -23.2657806219))
        make_face()
        with BuildLine():
            ThreePointArc((-15.4625402968, -20.1511748434), (-14.1114839187, -21.1193281525), (-12.7, -21.9970452561))
            Line((-12.7, -21.9970452561), (-15.3302561211, -19.9787787491))
            Line((-15.3302561211, -19.9787787491), (-15.4625402968, -20.1511748434))
        make_face()
        with BuildLine():
            ThreePointArc((-9.7201591821, -23.4665401258), (-11.2341327316, -22.7805676349), (-12.7, -21.9970452561))
            Line((-12.7, -21.9970452561), (-11.5810337092, -27.9590886471))
            Line((-11.5810337092, -27.9590886471), (-9.7201591821, -23.4665401258))
        make_face()
        with BuildLine():
            Line((-24.0090137178, -18.4227641804), (-17.9605122421, -17.9605122421))
            ThreePointArc((-17.9605122421, -17.9605122421), (-19.09673111, -16.7473837035), (-20.1511748434, -15.4625402968))
            Line((-20.1511748434, -15.4625402968), (-24.0090137178, -18.4227641804))
        make_face()
        with BuildLine():
            Line((-15.3302561211, -19.9787787491), (-17.9605122421, -17.9605122421))
            ThreePointArc((-17.9605122421, -17.9605122421), (-16.7473837035, -19.09673111), (-15.4625402968, -20.1511748434))
            Line((-15.4625402968, -20.1511748434), (-15.3302561211, -19.9787787491))
        make_face()
        with BuildLine():
            ThreePointArc((-20.1511748434, -15.4625402968), (-19.09673111, -16.7473837035), (-17.9605122421, -17.9605122421))
            Line((-17.9605122421, -17.9605122421), (-19.9787787491, -15.3302561211))
            Line((-19.9787787491, -15.3302561211), (-20.1511748434, -15.4625402968))
        make_face()
        with BuildLine():
            ThreePointArc((-15.4625402968, -20.1511748434), (-16.7473837035, -19.09673111), (-17.9605122421, -17.9605122421))
            Line((-17.9605122421, -17.9605122421), (-18.4227641804, -24.0090137178))
            Line((-18.4227641804, -24.0090137178), (-15.4625402968, -20.1511748434))
        make_face()
        with BuildLine():
            Line((-27.9590886471, -11.5810337092), (-21.9970452561, -12.7))
            ThreePointArc((-21.9970452561, -12.7), (-22.7805676349, -11.2341327316), (-23.4665401258, -9.7201591821))
            Line((-23.4665401258, -9.7201591821), (-27.9590886471, -11.5810337092))
        make_face()
        with BuildLine():
            Line((-19.9787787491, -15.3302561211), (-21.9970452561, -12.7))
            ThreePointArc((-21.9970452561, -12.7), (-21.1193281525, -14.1114839187), (-20.1511748434, -15.4625402968))
            Line((-20.1511748434, -15.4625402968), (-19.9787787491, -15.3302561211))
        make_face()
        with BuildLine():
            ThreePointArc((-23.4665401258, -9.7201591821), (-22.7805676349, -11.2341327316), (-21.9970452561, -12.7))
            Line((-21.9970452561, -12.7), (-23.2657806219, -9.6370018728))
            Line((-23.2657806219, -9.6370018728), (-23.4665401258, -9.7201591821))
        make_face()
        with BuildLine():
            ThreePointArc((-20.1511748434, -15.4625402968), (-21.1193281525, -14.1114839187), (-21.9970452561, -12.7))
            Line((-21.9970452561, -12.7), (-24.0090137178, -18.4227641804))
            Line((-24.0090137178, -18.4227641804), (-20.1511748434, -15.4625402968))
        make_face()
        with BuildLine():
            Line((-30.0037978897, -3.9500749293), (-24.5345159877, -6.5740037456))
            ThreePointArc((-24.5345159877, -6.5740037456), (-24.9119461222, -4.9552941792), (-25.1826994789, -3.3153652824))
            Line((-25.1826994789, -3.3153652824), (-30.0037978897, -3.9500749293))
        make_face()
        with BuildLine():
            Line((-23.2657806219, -9.6370018728), (-24.5345159877, -6.5740037456))
            ThreePointArc((-24.5345159877, -6.5740037456), (-24.0520252892, -8.1645624187), (-23.4665401258, -9.7201591821))
            Line((-23.4665401258, -9.7201591821), (-23.2657806219, -9.6370018728))
        make_face()
        with BuildLine():
            ThreePointArc((-25.1826994789, -3.3153652824), (-24.9119461222, -4.9552941792), (-24.5345159877, -6.5740037456))
            Line((-24.5345159877, -6.5740037456), (-24.9672579939, -3.2870018728))
            Line((-24.9672579939, -3.2870018728), (-25.1826994789, -3.3153652824))
        make_face()
        with BuildLine():
            ThreePointArc((-23.4665401258, -9.7201591821), (-24.0520252892, -8.1645624187), (-24.5345159877, -6.5740037456))
            Line((-24.5345159877, -6.5740037456), (-27.9590886471, -11.5810337092))
            Line((-27.9590886471, -11.5810337092), (-23.4665401258, -9.7201591821))
        make_face()
        with BuildLine():
            Line((-27.9590886471, 11.5810337092), (-24.5345159877, 6.5740037456))
            ThreePointArc((-24.5345159877, 6.5740037456), (-24.0520252892, 8.1645624187), (-23.4665401258, 9.7201591821))
            Line((-23.4665401258, 9.7201591821), (-27.9590886471, 11.5810337092))
        make_face()
        with BuildLine():
            Line((-24.9672579939, 3.2870018728), (-24.5345159877, 6.5740037456))
            ThreePointArc((-24.5345159877, 6.5740037456), (-24.9119461222, 4.9552941792), (-25.1826994789, 3.3153652824))
            Line((-25.1826994789, 3.3153652824), (-24.9672579939, 3.2870018728))
        make_face()
        with BuildLine():
            ThreePointArc((-23.4665401258, 9.7201591821), (-24.0520252892, 8.1645624187), (-24.5345159877, 6.5740037456))
            Line((-24.5345159877, 6.5740037456), (-23.2657806219, 9.6370018728))
            Line((-23.2657806219, 9.6370018728), (-23.4665401258, 9.7201591821))
        make_face()
        with BuildLine():
            ThreePointArc((-25.1826994789, 3.3153652824), (-24.9119461222, 4.9552941792), (-24.5345159877, 6.5740037456))
            Line((-24.5345159877, 6.5740037456), (-30.0037978897, 3.9500749293))
            Line((-30.0037978897, 3.9500749293), (-25.1826994789, 3.3153652824))
        make_face()
        with BuildLine():
            Line((-24.0090137178, 18.4227641804), (-21.9970452561, 12.7))
            ThreePointArc((-21.9970452561, 12.7), (-21.1193281525, 14.1114839187), (-20.1511748434, 15.4625402968))
            Line((-20.1511748434, 15.4625402968), (-24.0090137178, 18.4227641804))
        make_face()
        with BuildLine():
            Line((-23.2657806219, 9.6370018728), (-21.9970452561, 12.7))
            ThreePointArc((-21.9970452561, 12.7), (-22.7805676349, 11.2341327316), (-23.4665401258, 9.7201591821))
            Line((-23.4665401258, 9.7201591821), (-23.2657806219, 9.6370018728))
        make_face()
        with BuildLine():
            ThreePointArc((-20.1511748434, 15.4625402968), (-21.1193281525, 14.1114839187), (-21.9970452561, 12.7))
            Line((-21.9970452561, 12.7), (-19.9787787491, 15.3302561211))
            Line((-19.9787787491, 15.3302561211), (-20.1511748434, 15.4625402968))
        make_face()
        with BuildLine():
            ThreePointArc((-23.4665401258, 9.7201591821), (-22.7805676349, 11.2341327316), (-21.9970452561, 12.7))
            Line((-21.9970452561, 12.7), (-27.9590886471, 11.5810337092))
            Line((-27.9590886471, 11.5810337092), (-23.4665401258, 9.7201591821))
        make_face()
        with BuildLine():
            Line((-18.4227641804, 24.0090137178), (-17.9605122421, 17.9605122421))
            ThreePointArc((-17.9605122421, 17.9605122421), (-16.7473837035, 19.09673111), (-15.4625402968, 20.1511748434))
            Line((-15.4625402968, 20.1511748434), (-18.4227641804, 24.0090137178))
        make_face()
        with BuildLine():
            Line((-19.9787787491, 15.3302561211), (-17.9605122421, 17.9605122421))
            ThreePointArc((-17.9605122421, 17.9605122421), (-19.09673111, 16.7473837035), (-20.1511748434, 15.4625402968))
            Line((-20.1511748434, 15.4625402968), (-19.9787787491, 15.3302561211))
        make_face()
        with BuildLine():
            ThreePointArc((-15.4625402968, 20.1511748434), (-16.7473837035, 19.09673111), (-17.9605122421, 17.9605122421))
            Line((-17.9605122421, 17.9605122421), (-15.3302561211, 19.9787787491))
            Line((-15.3302561211, 19.9787787491), (-15.4625402968, 20.1511748434))
        make_face()
        with BuildLine():
            ThreePointArc((-20.1511748434, 15.4625402968), (-19.09673111, 16.7473837035), (-17.9605122421, 17.9605122421))
            Line((-17.9605122421, 17.9605122421), (-24.0090137178, 18.4227641804))
            Line((-24.0090137178, 18.4227641804), (-20.1511748434, 15.4625402968))
        make_face()
        with BuildLine():
            Line((-11.5810337092, 27.9590886471), (-12.7, 21.9970452561))
            ThreePointArc((-12.7, 21.9970452561), (-11.2341327316, 22.7805676349), (-9.7201591821, 23.4665401258))
            Line((-9.7201591821, 23.4665401258), (-11.5810337092, 27.9590886471))
        make_face()
        with BuildLine():
            Line((-15.3302561211, 19.9787787491), (-12.7, 21.9970452561))
            ThreePointArc((-12.7, 21.9970452561), (-14.1114839187, 21.1193281525), (-15.4625402968, 20.1511748434))
            Line((-15.4625402968, 20.1511748434), (-15.3302561211, 19.9787787491))
        make_face()
        with BuildLine():
            ThreePointArc((-9.7201591821, 23.4665401258), (-11.2341327316, 22.7805676349), (-12.7, 21.9970452561))
            Line((-12.7, 21.9970452561), (-9.6370018728, 23.2657806219))
            Line((-9.6370018728, 23.2657806219), (-9.7201591821, 23.4665401258))
        make_face()
        with BuildLine():
            ThreePointArc((-15.4625402968, 20.1511748434), (-14.1114839187, 21.1193281525), (-12.7, 21.9970452561))
            Line((-12.7, 21.9970452561), (-18.4227641804, 24.0090137178))
            Line((-18.4227641804, 24.0090137178), (-15.4625402968, 20.1511748434))
        make_face()
        with BuildLine():
            Line((-3.9500749293, 30.0037978897), (-6.5740037456, 24.5345159877))
            ThreePointArc((-6.5740037456, 24.5345159877), (-4.9552941792, 24.9119461222), (-3.3153652824, 25.1826994789))
            Line((-3.3153652824, 25.1826994789), (-3.9500749293, 30.0037978897))
        make_face()
        with BuildLine():
            Line((-9.6370018728, 23.2657806219), (-6.5740037456, 24.5345159877))
            ThreePointArc((-6.5740037456, 24.5345159877), (-8.1645624187, 24.0520252892), (-9.7201591821, 23.4665401258))
            Line((-9.7201591821, 23.4665401258), (-9.6370018728, 23.2657806219))
        make_face()
        with BuildLine():
            ThreePointArc((-3.3153652824, 25.1826994789), (-4.9552941792, 24.9119461222), (-6.5740037456, 24.5345159877))
            Line((-6.5740037456, 24.5345159877), (-3.2870018728, 24.9672579939))
            Line((-3.2870018728, 24.9672579939), (-3.3153652824, 25.1826994789))
        make_face()
        with BuildLine():
            ThreePointArc((-9.7201591821, 23.4665401258), (-8.1645624187, 24.0520252892), (-6.5740037456, 24.5345159877))
            Line((-6.5740037456, 24.5345159877), (-11.5810337092, 27.9590886471))
            Line((-11.5810337092, 27.9590886471), (-9.7201591821, 23.4665401258))
        make_face()
    extrude(amount=F1_DEPTH)

    # F2 (on face) → F3 (cut)
    with BuildSketch(Plane.XZ.offset(25.4)):
        with BuildLine():
            ThreePointArc((0, -10.795), (7.6332177029, -7.6332177029), (10.795, 0))
            ThreePointArc((10.795, 0), (7.6332177029, 7.6332177029), (0, 10.795))
            ThreePointArc((0, 10.795), (-7.6332177029, 7.6332177029), (-10.795, 0))
            ThreePointArc((-10.795, 0), (-7.6332177029, -7.6332177029), (0, -10.795))
        make_face()
        with Locations((-3.556, -7.874)):
            Circle(F2_R, mode=Mode.SUBTRACT)
        with BuildLine():
            ThreePointArc((-7.366, -3.556), (-8.2332102448, -3.9152102448), (-7.874, -3.048))
            ThreePointArc((-7.874, -3.048), (-7.5147897552, -3.1967897552), (-7.366, -3.556))
        make_face(mode=Mode.SUBTRACT)
        with BuildLine():
            ThreePointArc((0.508, -7.874), (0.3592102448, -8.2332102448), (0, -8.382))
            ThreePointArc((0, -8.382), (-0.3592102448, -8.2332102448), (-0.508, -7.874))
            ThreePointArc((-0.508, -7.874), (0, -7.366), (0.508, -7.874))
        make_face(mode=Mode.SUBTRACT)
        with BuildLine():
            ThreePointArc((4.064, -7.874), (3.556, -8.382), (3.048, -7.874))
            ThreePointArc((3.048, -7.874), (3.556, -7.366), (4.064, -7.874))
        make_face(mode=Mode.SUBTRACT)
        with BuildLine():
            ThreePointArc((8.382, -3.556), (7.5147897552, -3.9152102448), (7.874, -3.048))
            ThreePointArc((7.874, -3.048), (8.2332102448, -3.1967897552), (8.382, -3.556))
        make_face(mode=Mode.SUBTRACT)
        with BuildLine():
            ThreePointArc((-7.874, -0.508), (-8.2332102448, -0.3592102448), (-8.382, 0))
            ThreePointArc((-8.382, 0), (-8.2332102448, 0.3592102448), (-7.874, 0.508))
            ThreePointArc((-7.874, 0.508), (-7.5147897552, 0.3592102448), (-7.366, 0))
            ThreePointArc((-7.366, 0), (-7.5147897552, -0.3592102448), (-7.874, -0.508))
        make_face(mode=Mode.SUBTRACT)
        with BuildLine():
            ThreePointArc((-7.366, 3.556), (-7.5147897552, 3.1967897552), (-7.874, 3.048))
            ThreePointArc((-7.874, 3.048), (-8.2332102448, 3.9152102448), (-7.366, 3.556))
        make_face(mode=Mode.SUBTRACT)
        with Locations((-3.556, 7.874)):
            Circle(F2_R, mode=Mode.SUBTRACT)
        with BuildLine():
            ThreePointArc((7.874, 0.508), (8.2332102448, 0.3592102448), (8.382, 0))
            ThreePointArc((8.382, 0), (8.2332102448, -0.3592102448), (7.874, -0.508))
            ThreePointArc((7.874, -0.508), (7.366, 0), (7.874, 0.508))
        make_face(mode=Mode.SUBTRACT)
        with BuildLine():
            ThreePointArc((8.382, 3.556), (8.2332102448, 3.1967897552), (7.874, 3.048))
            ThreePointArc((7.874, 3.048), (7.5147897552, 3.9152102448), (8.382, 3.556))
        make_face(mode=Mode.SUBTRACT)
        with BuildLine():
            ThreePointArc((-0.508, 7.874), (-0.3592102448, 8.2332102448), (0, 8.382))
            ThreePointArc((0, 8.382), (0.3592102448, 8.2332102448), (0.508, 7.874))
            ThreePointArc((0.508, 7.874), (0, 7.366), (-0.508, 7.874))
        make_face(mode=Mode.SUBTRACT)
        with BuildLine():
            ThreePointArc((4.064, 7.874), (3.556, 7.366), (3.048, 7.874))
            ThreePointArc((3.048, 7.874), (3.556, 8.382), (4.064, 7.874))
        make_face(mode=Mode.SUBTRACT)
    extrude(amount=-F3_DEPTH, mode=Mode.SUBTRACT)

    # F4 (on face) → F5 (join)
    with BuildSketch(Plane(origin=(0, 0, 0), x_dir=(-1, 0, 0), z_dir=(0, 1, 0))):
        Circle(F4_R)
    extrude(amount=F5_DEPTH)


solid = f1.part
